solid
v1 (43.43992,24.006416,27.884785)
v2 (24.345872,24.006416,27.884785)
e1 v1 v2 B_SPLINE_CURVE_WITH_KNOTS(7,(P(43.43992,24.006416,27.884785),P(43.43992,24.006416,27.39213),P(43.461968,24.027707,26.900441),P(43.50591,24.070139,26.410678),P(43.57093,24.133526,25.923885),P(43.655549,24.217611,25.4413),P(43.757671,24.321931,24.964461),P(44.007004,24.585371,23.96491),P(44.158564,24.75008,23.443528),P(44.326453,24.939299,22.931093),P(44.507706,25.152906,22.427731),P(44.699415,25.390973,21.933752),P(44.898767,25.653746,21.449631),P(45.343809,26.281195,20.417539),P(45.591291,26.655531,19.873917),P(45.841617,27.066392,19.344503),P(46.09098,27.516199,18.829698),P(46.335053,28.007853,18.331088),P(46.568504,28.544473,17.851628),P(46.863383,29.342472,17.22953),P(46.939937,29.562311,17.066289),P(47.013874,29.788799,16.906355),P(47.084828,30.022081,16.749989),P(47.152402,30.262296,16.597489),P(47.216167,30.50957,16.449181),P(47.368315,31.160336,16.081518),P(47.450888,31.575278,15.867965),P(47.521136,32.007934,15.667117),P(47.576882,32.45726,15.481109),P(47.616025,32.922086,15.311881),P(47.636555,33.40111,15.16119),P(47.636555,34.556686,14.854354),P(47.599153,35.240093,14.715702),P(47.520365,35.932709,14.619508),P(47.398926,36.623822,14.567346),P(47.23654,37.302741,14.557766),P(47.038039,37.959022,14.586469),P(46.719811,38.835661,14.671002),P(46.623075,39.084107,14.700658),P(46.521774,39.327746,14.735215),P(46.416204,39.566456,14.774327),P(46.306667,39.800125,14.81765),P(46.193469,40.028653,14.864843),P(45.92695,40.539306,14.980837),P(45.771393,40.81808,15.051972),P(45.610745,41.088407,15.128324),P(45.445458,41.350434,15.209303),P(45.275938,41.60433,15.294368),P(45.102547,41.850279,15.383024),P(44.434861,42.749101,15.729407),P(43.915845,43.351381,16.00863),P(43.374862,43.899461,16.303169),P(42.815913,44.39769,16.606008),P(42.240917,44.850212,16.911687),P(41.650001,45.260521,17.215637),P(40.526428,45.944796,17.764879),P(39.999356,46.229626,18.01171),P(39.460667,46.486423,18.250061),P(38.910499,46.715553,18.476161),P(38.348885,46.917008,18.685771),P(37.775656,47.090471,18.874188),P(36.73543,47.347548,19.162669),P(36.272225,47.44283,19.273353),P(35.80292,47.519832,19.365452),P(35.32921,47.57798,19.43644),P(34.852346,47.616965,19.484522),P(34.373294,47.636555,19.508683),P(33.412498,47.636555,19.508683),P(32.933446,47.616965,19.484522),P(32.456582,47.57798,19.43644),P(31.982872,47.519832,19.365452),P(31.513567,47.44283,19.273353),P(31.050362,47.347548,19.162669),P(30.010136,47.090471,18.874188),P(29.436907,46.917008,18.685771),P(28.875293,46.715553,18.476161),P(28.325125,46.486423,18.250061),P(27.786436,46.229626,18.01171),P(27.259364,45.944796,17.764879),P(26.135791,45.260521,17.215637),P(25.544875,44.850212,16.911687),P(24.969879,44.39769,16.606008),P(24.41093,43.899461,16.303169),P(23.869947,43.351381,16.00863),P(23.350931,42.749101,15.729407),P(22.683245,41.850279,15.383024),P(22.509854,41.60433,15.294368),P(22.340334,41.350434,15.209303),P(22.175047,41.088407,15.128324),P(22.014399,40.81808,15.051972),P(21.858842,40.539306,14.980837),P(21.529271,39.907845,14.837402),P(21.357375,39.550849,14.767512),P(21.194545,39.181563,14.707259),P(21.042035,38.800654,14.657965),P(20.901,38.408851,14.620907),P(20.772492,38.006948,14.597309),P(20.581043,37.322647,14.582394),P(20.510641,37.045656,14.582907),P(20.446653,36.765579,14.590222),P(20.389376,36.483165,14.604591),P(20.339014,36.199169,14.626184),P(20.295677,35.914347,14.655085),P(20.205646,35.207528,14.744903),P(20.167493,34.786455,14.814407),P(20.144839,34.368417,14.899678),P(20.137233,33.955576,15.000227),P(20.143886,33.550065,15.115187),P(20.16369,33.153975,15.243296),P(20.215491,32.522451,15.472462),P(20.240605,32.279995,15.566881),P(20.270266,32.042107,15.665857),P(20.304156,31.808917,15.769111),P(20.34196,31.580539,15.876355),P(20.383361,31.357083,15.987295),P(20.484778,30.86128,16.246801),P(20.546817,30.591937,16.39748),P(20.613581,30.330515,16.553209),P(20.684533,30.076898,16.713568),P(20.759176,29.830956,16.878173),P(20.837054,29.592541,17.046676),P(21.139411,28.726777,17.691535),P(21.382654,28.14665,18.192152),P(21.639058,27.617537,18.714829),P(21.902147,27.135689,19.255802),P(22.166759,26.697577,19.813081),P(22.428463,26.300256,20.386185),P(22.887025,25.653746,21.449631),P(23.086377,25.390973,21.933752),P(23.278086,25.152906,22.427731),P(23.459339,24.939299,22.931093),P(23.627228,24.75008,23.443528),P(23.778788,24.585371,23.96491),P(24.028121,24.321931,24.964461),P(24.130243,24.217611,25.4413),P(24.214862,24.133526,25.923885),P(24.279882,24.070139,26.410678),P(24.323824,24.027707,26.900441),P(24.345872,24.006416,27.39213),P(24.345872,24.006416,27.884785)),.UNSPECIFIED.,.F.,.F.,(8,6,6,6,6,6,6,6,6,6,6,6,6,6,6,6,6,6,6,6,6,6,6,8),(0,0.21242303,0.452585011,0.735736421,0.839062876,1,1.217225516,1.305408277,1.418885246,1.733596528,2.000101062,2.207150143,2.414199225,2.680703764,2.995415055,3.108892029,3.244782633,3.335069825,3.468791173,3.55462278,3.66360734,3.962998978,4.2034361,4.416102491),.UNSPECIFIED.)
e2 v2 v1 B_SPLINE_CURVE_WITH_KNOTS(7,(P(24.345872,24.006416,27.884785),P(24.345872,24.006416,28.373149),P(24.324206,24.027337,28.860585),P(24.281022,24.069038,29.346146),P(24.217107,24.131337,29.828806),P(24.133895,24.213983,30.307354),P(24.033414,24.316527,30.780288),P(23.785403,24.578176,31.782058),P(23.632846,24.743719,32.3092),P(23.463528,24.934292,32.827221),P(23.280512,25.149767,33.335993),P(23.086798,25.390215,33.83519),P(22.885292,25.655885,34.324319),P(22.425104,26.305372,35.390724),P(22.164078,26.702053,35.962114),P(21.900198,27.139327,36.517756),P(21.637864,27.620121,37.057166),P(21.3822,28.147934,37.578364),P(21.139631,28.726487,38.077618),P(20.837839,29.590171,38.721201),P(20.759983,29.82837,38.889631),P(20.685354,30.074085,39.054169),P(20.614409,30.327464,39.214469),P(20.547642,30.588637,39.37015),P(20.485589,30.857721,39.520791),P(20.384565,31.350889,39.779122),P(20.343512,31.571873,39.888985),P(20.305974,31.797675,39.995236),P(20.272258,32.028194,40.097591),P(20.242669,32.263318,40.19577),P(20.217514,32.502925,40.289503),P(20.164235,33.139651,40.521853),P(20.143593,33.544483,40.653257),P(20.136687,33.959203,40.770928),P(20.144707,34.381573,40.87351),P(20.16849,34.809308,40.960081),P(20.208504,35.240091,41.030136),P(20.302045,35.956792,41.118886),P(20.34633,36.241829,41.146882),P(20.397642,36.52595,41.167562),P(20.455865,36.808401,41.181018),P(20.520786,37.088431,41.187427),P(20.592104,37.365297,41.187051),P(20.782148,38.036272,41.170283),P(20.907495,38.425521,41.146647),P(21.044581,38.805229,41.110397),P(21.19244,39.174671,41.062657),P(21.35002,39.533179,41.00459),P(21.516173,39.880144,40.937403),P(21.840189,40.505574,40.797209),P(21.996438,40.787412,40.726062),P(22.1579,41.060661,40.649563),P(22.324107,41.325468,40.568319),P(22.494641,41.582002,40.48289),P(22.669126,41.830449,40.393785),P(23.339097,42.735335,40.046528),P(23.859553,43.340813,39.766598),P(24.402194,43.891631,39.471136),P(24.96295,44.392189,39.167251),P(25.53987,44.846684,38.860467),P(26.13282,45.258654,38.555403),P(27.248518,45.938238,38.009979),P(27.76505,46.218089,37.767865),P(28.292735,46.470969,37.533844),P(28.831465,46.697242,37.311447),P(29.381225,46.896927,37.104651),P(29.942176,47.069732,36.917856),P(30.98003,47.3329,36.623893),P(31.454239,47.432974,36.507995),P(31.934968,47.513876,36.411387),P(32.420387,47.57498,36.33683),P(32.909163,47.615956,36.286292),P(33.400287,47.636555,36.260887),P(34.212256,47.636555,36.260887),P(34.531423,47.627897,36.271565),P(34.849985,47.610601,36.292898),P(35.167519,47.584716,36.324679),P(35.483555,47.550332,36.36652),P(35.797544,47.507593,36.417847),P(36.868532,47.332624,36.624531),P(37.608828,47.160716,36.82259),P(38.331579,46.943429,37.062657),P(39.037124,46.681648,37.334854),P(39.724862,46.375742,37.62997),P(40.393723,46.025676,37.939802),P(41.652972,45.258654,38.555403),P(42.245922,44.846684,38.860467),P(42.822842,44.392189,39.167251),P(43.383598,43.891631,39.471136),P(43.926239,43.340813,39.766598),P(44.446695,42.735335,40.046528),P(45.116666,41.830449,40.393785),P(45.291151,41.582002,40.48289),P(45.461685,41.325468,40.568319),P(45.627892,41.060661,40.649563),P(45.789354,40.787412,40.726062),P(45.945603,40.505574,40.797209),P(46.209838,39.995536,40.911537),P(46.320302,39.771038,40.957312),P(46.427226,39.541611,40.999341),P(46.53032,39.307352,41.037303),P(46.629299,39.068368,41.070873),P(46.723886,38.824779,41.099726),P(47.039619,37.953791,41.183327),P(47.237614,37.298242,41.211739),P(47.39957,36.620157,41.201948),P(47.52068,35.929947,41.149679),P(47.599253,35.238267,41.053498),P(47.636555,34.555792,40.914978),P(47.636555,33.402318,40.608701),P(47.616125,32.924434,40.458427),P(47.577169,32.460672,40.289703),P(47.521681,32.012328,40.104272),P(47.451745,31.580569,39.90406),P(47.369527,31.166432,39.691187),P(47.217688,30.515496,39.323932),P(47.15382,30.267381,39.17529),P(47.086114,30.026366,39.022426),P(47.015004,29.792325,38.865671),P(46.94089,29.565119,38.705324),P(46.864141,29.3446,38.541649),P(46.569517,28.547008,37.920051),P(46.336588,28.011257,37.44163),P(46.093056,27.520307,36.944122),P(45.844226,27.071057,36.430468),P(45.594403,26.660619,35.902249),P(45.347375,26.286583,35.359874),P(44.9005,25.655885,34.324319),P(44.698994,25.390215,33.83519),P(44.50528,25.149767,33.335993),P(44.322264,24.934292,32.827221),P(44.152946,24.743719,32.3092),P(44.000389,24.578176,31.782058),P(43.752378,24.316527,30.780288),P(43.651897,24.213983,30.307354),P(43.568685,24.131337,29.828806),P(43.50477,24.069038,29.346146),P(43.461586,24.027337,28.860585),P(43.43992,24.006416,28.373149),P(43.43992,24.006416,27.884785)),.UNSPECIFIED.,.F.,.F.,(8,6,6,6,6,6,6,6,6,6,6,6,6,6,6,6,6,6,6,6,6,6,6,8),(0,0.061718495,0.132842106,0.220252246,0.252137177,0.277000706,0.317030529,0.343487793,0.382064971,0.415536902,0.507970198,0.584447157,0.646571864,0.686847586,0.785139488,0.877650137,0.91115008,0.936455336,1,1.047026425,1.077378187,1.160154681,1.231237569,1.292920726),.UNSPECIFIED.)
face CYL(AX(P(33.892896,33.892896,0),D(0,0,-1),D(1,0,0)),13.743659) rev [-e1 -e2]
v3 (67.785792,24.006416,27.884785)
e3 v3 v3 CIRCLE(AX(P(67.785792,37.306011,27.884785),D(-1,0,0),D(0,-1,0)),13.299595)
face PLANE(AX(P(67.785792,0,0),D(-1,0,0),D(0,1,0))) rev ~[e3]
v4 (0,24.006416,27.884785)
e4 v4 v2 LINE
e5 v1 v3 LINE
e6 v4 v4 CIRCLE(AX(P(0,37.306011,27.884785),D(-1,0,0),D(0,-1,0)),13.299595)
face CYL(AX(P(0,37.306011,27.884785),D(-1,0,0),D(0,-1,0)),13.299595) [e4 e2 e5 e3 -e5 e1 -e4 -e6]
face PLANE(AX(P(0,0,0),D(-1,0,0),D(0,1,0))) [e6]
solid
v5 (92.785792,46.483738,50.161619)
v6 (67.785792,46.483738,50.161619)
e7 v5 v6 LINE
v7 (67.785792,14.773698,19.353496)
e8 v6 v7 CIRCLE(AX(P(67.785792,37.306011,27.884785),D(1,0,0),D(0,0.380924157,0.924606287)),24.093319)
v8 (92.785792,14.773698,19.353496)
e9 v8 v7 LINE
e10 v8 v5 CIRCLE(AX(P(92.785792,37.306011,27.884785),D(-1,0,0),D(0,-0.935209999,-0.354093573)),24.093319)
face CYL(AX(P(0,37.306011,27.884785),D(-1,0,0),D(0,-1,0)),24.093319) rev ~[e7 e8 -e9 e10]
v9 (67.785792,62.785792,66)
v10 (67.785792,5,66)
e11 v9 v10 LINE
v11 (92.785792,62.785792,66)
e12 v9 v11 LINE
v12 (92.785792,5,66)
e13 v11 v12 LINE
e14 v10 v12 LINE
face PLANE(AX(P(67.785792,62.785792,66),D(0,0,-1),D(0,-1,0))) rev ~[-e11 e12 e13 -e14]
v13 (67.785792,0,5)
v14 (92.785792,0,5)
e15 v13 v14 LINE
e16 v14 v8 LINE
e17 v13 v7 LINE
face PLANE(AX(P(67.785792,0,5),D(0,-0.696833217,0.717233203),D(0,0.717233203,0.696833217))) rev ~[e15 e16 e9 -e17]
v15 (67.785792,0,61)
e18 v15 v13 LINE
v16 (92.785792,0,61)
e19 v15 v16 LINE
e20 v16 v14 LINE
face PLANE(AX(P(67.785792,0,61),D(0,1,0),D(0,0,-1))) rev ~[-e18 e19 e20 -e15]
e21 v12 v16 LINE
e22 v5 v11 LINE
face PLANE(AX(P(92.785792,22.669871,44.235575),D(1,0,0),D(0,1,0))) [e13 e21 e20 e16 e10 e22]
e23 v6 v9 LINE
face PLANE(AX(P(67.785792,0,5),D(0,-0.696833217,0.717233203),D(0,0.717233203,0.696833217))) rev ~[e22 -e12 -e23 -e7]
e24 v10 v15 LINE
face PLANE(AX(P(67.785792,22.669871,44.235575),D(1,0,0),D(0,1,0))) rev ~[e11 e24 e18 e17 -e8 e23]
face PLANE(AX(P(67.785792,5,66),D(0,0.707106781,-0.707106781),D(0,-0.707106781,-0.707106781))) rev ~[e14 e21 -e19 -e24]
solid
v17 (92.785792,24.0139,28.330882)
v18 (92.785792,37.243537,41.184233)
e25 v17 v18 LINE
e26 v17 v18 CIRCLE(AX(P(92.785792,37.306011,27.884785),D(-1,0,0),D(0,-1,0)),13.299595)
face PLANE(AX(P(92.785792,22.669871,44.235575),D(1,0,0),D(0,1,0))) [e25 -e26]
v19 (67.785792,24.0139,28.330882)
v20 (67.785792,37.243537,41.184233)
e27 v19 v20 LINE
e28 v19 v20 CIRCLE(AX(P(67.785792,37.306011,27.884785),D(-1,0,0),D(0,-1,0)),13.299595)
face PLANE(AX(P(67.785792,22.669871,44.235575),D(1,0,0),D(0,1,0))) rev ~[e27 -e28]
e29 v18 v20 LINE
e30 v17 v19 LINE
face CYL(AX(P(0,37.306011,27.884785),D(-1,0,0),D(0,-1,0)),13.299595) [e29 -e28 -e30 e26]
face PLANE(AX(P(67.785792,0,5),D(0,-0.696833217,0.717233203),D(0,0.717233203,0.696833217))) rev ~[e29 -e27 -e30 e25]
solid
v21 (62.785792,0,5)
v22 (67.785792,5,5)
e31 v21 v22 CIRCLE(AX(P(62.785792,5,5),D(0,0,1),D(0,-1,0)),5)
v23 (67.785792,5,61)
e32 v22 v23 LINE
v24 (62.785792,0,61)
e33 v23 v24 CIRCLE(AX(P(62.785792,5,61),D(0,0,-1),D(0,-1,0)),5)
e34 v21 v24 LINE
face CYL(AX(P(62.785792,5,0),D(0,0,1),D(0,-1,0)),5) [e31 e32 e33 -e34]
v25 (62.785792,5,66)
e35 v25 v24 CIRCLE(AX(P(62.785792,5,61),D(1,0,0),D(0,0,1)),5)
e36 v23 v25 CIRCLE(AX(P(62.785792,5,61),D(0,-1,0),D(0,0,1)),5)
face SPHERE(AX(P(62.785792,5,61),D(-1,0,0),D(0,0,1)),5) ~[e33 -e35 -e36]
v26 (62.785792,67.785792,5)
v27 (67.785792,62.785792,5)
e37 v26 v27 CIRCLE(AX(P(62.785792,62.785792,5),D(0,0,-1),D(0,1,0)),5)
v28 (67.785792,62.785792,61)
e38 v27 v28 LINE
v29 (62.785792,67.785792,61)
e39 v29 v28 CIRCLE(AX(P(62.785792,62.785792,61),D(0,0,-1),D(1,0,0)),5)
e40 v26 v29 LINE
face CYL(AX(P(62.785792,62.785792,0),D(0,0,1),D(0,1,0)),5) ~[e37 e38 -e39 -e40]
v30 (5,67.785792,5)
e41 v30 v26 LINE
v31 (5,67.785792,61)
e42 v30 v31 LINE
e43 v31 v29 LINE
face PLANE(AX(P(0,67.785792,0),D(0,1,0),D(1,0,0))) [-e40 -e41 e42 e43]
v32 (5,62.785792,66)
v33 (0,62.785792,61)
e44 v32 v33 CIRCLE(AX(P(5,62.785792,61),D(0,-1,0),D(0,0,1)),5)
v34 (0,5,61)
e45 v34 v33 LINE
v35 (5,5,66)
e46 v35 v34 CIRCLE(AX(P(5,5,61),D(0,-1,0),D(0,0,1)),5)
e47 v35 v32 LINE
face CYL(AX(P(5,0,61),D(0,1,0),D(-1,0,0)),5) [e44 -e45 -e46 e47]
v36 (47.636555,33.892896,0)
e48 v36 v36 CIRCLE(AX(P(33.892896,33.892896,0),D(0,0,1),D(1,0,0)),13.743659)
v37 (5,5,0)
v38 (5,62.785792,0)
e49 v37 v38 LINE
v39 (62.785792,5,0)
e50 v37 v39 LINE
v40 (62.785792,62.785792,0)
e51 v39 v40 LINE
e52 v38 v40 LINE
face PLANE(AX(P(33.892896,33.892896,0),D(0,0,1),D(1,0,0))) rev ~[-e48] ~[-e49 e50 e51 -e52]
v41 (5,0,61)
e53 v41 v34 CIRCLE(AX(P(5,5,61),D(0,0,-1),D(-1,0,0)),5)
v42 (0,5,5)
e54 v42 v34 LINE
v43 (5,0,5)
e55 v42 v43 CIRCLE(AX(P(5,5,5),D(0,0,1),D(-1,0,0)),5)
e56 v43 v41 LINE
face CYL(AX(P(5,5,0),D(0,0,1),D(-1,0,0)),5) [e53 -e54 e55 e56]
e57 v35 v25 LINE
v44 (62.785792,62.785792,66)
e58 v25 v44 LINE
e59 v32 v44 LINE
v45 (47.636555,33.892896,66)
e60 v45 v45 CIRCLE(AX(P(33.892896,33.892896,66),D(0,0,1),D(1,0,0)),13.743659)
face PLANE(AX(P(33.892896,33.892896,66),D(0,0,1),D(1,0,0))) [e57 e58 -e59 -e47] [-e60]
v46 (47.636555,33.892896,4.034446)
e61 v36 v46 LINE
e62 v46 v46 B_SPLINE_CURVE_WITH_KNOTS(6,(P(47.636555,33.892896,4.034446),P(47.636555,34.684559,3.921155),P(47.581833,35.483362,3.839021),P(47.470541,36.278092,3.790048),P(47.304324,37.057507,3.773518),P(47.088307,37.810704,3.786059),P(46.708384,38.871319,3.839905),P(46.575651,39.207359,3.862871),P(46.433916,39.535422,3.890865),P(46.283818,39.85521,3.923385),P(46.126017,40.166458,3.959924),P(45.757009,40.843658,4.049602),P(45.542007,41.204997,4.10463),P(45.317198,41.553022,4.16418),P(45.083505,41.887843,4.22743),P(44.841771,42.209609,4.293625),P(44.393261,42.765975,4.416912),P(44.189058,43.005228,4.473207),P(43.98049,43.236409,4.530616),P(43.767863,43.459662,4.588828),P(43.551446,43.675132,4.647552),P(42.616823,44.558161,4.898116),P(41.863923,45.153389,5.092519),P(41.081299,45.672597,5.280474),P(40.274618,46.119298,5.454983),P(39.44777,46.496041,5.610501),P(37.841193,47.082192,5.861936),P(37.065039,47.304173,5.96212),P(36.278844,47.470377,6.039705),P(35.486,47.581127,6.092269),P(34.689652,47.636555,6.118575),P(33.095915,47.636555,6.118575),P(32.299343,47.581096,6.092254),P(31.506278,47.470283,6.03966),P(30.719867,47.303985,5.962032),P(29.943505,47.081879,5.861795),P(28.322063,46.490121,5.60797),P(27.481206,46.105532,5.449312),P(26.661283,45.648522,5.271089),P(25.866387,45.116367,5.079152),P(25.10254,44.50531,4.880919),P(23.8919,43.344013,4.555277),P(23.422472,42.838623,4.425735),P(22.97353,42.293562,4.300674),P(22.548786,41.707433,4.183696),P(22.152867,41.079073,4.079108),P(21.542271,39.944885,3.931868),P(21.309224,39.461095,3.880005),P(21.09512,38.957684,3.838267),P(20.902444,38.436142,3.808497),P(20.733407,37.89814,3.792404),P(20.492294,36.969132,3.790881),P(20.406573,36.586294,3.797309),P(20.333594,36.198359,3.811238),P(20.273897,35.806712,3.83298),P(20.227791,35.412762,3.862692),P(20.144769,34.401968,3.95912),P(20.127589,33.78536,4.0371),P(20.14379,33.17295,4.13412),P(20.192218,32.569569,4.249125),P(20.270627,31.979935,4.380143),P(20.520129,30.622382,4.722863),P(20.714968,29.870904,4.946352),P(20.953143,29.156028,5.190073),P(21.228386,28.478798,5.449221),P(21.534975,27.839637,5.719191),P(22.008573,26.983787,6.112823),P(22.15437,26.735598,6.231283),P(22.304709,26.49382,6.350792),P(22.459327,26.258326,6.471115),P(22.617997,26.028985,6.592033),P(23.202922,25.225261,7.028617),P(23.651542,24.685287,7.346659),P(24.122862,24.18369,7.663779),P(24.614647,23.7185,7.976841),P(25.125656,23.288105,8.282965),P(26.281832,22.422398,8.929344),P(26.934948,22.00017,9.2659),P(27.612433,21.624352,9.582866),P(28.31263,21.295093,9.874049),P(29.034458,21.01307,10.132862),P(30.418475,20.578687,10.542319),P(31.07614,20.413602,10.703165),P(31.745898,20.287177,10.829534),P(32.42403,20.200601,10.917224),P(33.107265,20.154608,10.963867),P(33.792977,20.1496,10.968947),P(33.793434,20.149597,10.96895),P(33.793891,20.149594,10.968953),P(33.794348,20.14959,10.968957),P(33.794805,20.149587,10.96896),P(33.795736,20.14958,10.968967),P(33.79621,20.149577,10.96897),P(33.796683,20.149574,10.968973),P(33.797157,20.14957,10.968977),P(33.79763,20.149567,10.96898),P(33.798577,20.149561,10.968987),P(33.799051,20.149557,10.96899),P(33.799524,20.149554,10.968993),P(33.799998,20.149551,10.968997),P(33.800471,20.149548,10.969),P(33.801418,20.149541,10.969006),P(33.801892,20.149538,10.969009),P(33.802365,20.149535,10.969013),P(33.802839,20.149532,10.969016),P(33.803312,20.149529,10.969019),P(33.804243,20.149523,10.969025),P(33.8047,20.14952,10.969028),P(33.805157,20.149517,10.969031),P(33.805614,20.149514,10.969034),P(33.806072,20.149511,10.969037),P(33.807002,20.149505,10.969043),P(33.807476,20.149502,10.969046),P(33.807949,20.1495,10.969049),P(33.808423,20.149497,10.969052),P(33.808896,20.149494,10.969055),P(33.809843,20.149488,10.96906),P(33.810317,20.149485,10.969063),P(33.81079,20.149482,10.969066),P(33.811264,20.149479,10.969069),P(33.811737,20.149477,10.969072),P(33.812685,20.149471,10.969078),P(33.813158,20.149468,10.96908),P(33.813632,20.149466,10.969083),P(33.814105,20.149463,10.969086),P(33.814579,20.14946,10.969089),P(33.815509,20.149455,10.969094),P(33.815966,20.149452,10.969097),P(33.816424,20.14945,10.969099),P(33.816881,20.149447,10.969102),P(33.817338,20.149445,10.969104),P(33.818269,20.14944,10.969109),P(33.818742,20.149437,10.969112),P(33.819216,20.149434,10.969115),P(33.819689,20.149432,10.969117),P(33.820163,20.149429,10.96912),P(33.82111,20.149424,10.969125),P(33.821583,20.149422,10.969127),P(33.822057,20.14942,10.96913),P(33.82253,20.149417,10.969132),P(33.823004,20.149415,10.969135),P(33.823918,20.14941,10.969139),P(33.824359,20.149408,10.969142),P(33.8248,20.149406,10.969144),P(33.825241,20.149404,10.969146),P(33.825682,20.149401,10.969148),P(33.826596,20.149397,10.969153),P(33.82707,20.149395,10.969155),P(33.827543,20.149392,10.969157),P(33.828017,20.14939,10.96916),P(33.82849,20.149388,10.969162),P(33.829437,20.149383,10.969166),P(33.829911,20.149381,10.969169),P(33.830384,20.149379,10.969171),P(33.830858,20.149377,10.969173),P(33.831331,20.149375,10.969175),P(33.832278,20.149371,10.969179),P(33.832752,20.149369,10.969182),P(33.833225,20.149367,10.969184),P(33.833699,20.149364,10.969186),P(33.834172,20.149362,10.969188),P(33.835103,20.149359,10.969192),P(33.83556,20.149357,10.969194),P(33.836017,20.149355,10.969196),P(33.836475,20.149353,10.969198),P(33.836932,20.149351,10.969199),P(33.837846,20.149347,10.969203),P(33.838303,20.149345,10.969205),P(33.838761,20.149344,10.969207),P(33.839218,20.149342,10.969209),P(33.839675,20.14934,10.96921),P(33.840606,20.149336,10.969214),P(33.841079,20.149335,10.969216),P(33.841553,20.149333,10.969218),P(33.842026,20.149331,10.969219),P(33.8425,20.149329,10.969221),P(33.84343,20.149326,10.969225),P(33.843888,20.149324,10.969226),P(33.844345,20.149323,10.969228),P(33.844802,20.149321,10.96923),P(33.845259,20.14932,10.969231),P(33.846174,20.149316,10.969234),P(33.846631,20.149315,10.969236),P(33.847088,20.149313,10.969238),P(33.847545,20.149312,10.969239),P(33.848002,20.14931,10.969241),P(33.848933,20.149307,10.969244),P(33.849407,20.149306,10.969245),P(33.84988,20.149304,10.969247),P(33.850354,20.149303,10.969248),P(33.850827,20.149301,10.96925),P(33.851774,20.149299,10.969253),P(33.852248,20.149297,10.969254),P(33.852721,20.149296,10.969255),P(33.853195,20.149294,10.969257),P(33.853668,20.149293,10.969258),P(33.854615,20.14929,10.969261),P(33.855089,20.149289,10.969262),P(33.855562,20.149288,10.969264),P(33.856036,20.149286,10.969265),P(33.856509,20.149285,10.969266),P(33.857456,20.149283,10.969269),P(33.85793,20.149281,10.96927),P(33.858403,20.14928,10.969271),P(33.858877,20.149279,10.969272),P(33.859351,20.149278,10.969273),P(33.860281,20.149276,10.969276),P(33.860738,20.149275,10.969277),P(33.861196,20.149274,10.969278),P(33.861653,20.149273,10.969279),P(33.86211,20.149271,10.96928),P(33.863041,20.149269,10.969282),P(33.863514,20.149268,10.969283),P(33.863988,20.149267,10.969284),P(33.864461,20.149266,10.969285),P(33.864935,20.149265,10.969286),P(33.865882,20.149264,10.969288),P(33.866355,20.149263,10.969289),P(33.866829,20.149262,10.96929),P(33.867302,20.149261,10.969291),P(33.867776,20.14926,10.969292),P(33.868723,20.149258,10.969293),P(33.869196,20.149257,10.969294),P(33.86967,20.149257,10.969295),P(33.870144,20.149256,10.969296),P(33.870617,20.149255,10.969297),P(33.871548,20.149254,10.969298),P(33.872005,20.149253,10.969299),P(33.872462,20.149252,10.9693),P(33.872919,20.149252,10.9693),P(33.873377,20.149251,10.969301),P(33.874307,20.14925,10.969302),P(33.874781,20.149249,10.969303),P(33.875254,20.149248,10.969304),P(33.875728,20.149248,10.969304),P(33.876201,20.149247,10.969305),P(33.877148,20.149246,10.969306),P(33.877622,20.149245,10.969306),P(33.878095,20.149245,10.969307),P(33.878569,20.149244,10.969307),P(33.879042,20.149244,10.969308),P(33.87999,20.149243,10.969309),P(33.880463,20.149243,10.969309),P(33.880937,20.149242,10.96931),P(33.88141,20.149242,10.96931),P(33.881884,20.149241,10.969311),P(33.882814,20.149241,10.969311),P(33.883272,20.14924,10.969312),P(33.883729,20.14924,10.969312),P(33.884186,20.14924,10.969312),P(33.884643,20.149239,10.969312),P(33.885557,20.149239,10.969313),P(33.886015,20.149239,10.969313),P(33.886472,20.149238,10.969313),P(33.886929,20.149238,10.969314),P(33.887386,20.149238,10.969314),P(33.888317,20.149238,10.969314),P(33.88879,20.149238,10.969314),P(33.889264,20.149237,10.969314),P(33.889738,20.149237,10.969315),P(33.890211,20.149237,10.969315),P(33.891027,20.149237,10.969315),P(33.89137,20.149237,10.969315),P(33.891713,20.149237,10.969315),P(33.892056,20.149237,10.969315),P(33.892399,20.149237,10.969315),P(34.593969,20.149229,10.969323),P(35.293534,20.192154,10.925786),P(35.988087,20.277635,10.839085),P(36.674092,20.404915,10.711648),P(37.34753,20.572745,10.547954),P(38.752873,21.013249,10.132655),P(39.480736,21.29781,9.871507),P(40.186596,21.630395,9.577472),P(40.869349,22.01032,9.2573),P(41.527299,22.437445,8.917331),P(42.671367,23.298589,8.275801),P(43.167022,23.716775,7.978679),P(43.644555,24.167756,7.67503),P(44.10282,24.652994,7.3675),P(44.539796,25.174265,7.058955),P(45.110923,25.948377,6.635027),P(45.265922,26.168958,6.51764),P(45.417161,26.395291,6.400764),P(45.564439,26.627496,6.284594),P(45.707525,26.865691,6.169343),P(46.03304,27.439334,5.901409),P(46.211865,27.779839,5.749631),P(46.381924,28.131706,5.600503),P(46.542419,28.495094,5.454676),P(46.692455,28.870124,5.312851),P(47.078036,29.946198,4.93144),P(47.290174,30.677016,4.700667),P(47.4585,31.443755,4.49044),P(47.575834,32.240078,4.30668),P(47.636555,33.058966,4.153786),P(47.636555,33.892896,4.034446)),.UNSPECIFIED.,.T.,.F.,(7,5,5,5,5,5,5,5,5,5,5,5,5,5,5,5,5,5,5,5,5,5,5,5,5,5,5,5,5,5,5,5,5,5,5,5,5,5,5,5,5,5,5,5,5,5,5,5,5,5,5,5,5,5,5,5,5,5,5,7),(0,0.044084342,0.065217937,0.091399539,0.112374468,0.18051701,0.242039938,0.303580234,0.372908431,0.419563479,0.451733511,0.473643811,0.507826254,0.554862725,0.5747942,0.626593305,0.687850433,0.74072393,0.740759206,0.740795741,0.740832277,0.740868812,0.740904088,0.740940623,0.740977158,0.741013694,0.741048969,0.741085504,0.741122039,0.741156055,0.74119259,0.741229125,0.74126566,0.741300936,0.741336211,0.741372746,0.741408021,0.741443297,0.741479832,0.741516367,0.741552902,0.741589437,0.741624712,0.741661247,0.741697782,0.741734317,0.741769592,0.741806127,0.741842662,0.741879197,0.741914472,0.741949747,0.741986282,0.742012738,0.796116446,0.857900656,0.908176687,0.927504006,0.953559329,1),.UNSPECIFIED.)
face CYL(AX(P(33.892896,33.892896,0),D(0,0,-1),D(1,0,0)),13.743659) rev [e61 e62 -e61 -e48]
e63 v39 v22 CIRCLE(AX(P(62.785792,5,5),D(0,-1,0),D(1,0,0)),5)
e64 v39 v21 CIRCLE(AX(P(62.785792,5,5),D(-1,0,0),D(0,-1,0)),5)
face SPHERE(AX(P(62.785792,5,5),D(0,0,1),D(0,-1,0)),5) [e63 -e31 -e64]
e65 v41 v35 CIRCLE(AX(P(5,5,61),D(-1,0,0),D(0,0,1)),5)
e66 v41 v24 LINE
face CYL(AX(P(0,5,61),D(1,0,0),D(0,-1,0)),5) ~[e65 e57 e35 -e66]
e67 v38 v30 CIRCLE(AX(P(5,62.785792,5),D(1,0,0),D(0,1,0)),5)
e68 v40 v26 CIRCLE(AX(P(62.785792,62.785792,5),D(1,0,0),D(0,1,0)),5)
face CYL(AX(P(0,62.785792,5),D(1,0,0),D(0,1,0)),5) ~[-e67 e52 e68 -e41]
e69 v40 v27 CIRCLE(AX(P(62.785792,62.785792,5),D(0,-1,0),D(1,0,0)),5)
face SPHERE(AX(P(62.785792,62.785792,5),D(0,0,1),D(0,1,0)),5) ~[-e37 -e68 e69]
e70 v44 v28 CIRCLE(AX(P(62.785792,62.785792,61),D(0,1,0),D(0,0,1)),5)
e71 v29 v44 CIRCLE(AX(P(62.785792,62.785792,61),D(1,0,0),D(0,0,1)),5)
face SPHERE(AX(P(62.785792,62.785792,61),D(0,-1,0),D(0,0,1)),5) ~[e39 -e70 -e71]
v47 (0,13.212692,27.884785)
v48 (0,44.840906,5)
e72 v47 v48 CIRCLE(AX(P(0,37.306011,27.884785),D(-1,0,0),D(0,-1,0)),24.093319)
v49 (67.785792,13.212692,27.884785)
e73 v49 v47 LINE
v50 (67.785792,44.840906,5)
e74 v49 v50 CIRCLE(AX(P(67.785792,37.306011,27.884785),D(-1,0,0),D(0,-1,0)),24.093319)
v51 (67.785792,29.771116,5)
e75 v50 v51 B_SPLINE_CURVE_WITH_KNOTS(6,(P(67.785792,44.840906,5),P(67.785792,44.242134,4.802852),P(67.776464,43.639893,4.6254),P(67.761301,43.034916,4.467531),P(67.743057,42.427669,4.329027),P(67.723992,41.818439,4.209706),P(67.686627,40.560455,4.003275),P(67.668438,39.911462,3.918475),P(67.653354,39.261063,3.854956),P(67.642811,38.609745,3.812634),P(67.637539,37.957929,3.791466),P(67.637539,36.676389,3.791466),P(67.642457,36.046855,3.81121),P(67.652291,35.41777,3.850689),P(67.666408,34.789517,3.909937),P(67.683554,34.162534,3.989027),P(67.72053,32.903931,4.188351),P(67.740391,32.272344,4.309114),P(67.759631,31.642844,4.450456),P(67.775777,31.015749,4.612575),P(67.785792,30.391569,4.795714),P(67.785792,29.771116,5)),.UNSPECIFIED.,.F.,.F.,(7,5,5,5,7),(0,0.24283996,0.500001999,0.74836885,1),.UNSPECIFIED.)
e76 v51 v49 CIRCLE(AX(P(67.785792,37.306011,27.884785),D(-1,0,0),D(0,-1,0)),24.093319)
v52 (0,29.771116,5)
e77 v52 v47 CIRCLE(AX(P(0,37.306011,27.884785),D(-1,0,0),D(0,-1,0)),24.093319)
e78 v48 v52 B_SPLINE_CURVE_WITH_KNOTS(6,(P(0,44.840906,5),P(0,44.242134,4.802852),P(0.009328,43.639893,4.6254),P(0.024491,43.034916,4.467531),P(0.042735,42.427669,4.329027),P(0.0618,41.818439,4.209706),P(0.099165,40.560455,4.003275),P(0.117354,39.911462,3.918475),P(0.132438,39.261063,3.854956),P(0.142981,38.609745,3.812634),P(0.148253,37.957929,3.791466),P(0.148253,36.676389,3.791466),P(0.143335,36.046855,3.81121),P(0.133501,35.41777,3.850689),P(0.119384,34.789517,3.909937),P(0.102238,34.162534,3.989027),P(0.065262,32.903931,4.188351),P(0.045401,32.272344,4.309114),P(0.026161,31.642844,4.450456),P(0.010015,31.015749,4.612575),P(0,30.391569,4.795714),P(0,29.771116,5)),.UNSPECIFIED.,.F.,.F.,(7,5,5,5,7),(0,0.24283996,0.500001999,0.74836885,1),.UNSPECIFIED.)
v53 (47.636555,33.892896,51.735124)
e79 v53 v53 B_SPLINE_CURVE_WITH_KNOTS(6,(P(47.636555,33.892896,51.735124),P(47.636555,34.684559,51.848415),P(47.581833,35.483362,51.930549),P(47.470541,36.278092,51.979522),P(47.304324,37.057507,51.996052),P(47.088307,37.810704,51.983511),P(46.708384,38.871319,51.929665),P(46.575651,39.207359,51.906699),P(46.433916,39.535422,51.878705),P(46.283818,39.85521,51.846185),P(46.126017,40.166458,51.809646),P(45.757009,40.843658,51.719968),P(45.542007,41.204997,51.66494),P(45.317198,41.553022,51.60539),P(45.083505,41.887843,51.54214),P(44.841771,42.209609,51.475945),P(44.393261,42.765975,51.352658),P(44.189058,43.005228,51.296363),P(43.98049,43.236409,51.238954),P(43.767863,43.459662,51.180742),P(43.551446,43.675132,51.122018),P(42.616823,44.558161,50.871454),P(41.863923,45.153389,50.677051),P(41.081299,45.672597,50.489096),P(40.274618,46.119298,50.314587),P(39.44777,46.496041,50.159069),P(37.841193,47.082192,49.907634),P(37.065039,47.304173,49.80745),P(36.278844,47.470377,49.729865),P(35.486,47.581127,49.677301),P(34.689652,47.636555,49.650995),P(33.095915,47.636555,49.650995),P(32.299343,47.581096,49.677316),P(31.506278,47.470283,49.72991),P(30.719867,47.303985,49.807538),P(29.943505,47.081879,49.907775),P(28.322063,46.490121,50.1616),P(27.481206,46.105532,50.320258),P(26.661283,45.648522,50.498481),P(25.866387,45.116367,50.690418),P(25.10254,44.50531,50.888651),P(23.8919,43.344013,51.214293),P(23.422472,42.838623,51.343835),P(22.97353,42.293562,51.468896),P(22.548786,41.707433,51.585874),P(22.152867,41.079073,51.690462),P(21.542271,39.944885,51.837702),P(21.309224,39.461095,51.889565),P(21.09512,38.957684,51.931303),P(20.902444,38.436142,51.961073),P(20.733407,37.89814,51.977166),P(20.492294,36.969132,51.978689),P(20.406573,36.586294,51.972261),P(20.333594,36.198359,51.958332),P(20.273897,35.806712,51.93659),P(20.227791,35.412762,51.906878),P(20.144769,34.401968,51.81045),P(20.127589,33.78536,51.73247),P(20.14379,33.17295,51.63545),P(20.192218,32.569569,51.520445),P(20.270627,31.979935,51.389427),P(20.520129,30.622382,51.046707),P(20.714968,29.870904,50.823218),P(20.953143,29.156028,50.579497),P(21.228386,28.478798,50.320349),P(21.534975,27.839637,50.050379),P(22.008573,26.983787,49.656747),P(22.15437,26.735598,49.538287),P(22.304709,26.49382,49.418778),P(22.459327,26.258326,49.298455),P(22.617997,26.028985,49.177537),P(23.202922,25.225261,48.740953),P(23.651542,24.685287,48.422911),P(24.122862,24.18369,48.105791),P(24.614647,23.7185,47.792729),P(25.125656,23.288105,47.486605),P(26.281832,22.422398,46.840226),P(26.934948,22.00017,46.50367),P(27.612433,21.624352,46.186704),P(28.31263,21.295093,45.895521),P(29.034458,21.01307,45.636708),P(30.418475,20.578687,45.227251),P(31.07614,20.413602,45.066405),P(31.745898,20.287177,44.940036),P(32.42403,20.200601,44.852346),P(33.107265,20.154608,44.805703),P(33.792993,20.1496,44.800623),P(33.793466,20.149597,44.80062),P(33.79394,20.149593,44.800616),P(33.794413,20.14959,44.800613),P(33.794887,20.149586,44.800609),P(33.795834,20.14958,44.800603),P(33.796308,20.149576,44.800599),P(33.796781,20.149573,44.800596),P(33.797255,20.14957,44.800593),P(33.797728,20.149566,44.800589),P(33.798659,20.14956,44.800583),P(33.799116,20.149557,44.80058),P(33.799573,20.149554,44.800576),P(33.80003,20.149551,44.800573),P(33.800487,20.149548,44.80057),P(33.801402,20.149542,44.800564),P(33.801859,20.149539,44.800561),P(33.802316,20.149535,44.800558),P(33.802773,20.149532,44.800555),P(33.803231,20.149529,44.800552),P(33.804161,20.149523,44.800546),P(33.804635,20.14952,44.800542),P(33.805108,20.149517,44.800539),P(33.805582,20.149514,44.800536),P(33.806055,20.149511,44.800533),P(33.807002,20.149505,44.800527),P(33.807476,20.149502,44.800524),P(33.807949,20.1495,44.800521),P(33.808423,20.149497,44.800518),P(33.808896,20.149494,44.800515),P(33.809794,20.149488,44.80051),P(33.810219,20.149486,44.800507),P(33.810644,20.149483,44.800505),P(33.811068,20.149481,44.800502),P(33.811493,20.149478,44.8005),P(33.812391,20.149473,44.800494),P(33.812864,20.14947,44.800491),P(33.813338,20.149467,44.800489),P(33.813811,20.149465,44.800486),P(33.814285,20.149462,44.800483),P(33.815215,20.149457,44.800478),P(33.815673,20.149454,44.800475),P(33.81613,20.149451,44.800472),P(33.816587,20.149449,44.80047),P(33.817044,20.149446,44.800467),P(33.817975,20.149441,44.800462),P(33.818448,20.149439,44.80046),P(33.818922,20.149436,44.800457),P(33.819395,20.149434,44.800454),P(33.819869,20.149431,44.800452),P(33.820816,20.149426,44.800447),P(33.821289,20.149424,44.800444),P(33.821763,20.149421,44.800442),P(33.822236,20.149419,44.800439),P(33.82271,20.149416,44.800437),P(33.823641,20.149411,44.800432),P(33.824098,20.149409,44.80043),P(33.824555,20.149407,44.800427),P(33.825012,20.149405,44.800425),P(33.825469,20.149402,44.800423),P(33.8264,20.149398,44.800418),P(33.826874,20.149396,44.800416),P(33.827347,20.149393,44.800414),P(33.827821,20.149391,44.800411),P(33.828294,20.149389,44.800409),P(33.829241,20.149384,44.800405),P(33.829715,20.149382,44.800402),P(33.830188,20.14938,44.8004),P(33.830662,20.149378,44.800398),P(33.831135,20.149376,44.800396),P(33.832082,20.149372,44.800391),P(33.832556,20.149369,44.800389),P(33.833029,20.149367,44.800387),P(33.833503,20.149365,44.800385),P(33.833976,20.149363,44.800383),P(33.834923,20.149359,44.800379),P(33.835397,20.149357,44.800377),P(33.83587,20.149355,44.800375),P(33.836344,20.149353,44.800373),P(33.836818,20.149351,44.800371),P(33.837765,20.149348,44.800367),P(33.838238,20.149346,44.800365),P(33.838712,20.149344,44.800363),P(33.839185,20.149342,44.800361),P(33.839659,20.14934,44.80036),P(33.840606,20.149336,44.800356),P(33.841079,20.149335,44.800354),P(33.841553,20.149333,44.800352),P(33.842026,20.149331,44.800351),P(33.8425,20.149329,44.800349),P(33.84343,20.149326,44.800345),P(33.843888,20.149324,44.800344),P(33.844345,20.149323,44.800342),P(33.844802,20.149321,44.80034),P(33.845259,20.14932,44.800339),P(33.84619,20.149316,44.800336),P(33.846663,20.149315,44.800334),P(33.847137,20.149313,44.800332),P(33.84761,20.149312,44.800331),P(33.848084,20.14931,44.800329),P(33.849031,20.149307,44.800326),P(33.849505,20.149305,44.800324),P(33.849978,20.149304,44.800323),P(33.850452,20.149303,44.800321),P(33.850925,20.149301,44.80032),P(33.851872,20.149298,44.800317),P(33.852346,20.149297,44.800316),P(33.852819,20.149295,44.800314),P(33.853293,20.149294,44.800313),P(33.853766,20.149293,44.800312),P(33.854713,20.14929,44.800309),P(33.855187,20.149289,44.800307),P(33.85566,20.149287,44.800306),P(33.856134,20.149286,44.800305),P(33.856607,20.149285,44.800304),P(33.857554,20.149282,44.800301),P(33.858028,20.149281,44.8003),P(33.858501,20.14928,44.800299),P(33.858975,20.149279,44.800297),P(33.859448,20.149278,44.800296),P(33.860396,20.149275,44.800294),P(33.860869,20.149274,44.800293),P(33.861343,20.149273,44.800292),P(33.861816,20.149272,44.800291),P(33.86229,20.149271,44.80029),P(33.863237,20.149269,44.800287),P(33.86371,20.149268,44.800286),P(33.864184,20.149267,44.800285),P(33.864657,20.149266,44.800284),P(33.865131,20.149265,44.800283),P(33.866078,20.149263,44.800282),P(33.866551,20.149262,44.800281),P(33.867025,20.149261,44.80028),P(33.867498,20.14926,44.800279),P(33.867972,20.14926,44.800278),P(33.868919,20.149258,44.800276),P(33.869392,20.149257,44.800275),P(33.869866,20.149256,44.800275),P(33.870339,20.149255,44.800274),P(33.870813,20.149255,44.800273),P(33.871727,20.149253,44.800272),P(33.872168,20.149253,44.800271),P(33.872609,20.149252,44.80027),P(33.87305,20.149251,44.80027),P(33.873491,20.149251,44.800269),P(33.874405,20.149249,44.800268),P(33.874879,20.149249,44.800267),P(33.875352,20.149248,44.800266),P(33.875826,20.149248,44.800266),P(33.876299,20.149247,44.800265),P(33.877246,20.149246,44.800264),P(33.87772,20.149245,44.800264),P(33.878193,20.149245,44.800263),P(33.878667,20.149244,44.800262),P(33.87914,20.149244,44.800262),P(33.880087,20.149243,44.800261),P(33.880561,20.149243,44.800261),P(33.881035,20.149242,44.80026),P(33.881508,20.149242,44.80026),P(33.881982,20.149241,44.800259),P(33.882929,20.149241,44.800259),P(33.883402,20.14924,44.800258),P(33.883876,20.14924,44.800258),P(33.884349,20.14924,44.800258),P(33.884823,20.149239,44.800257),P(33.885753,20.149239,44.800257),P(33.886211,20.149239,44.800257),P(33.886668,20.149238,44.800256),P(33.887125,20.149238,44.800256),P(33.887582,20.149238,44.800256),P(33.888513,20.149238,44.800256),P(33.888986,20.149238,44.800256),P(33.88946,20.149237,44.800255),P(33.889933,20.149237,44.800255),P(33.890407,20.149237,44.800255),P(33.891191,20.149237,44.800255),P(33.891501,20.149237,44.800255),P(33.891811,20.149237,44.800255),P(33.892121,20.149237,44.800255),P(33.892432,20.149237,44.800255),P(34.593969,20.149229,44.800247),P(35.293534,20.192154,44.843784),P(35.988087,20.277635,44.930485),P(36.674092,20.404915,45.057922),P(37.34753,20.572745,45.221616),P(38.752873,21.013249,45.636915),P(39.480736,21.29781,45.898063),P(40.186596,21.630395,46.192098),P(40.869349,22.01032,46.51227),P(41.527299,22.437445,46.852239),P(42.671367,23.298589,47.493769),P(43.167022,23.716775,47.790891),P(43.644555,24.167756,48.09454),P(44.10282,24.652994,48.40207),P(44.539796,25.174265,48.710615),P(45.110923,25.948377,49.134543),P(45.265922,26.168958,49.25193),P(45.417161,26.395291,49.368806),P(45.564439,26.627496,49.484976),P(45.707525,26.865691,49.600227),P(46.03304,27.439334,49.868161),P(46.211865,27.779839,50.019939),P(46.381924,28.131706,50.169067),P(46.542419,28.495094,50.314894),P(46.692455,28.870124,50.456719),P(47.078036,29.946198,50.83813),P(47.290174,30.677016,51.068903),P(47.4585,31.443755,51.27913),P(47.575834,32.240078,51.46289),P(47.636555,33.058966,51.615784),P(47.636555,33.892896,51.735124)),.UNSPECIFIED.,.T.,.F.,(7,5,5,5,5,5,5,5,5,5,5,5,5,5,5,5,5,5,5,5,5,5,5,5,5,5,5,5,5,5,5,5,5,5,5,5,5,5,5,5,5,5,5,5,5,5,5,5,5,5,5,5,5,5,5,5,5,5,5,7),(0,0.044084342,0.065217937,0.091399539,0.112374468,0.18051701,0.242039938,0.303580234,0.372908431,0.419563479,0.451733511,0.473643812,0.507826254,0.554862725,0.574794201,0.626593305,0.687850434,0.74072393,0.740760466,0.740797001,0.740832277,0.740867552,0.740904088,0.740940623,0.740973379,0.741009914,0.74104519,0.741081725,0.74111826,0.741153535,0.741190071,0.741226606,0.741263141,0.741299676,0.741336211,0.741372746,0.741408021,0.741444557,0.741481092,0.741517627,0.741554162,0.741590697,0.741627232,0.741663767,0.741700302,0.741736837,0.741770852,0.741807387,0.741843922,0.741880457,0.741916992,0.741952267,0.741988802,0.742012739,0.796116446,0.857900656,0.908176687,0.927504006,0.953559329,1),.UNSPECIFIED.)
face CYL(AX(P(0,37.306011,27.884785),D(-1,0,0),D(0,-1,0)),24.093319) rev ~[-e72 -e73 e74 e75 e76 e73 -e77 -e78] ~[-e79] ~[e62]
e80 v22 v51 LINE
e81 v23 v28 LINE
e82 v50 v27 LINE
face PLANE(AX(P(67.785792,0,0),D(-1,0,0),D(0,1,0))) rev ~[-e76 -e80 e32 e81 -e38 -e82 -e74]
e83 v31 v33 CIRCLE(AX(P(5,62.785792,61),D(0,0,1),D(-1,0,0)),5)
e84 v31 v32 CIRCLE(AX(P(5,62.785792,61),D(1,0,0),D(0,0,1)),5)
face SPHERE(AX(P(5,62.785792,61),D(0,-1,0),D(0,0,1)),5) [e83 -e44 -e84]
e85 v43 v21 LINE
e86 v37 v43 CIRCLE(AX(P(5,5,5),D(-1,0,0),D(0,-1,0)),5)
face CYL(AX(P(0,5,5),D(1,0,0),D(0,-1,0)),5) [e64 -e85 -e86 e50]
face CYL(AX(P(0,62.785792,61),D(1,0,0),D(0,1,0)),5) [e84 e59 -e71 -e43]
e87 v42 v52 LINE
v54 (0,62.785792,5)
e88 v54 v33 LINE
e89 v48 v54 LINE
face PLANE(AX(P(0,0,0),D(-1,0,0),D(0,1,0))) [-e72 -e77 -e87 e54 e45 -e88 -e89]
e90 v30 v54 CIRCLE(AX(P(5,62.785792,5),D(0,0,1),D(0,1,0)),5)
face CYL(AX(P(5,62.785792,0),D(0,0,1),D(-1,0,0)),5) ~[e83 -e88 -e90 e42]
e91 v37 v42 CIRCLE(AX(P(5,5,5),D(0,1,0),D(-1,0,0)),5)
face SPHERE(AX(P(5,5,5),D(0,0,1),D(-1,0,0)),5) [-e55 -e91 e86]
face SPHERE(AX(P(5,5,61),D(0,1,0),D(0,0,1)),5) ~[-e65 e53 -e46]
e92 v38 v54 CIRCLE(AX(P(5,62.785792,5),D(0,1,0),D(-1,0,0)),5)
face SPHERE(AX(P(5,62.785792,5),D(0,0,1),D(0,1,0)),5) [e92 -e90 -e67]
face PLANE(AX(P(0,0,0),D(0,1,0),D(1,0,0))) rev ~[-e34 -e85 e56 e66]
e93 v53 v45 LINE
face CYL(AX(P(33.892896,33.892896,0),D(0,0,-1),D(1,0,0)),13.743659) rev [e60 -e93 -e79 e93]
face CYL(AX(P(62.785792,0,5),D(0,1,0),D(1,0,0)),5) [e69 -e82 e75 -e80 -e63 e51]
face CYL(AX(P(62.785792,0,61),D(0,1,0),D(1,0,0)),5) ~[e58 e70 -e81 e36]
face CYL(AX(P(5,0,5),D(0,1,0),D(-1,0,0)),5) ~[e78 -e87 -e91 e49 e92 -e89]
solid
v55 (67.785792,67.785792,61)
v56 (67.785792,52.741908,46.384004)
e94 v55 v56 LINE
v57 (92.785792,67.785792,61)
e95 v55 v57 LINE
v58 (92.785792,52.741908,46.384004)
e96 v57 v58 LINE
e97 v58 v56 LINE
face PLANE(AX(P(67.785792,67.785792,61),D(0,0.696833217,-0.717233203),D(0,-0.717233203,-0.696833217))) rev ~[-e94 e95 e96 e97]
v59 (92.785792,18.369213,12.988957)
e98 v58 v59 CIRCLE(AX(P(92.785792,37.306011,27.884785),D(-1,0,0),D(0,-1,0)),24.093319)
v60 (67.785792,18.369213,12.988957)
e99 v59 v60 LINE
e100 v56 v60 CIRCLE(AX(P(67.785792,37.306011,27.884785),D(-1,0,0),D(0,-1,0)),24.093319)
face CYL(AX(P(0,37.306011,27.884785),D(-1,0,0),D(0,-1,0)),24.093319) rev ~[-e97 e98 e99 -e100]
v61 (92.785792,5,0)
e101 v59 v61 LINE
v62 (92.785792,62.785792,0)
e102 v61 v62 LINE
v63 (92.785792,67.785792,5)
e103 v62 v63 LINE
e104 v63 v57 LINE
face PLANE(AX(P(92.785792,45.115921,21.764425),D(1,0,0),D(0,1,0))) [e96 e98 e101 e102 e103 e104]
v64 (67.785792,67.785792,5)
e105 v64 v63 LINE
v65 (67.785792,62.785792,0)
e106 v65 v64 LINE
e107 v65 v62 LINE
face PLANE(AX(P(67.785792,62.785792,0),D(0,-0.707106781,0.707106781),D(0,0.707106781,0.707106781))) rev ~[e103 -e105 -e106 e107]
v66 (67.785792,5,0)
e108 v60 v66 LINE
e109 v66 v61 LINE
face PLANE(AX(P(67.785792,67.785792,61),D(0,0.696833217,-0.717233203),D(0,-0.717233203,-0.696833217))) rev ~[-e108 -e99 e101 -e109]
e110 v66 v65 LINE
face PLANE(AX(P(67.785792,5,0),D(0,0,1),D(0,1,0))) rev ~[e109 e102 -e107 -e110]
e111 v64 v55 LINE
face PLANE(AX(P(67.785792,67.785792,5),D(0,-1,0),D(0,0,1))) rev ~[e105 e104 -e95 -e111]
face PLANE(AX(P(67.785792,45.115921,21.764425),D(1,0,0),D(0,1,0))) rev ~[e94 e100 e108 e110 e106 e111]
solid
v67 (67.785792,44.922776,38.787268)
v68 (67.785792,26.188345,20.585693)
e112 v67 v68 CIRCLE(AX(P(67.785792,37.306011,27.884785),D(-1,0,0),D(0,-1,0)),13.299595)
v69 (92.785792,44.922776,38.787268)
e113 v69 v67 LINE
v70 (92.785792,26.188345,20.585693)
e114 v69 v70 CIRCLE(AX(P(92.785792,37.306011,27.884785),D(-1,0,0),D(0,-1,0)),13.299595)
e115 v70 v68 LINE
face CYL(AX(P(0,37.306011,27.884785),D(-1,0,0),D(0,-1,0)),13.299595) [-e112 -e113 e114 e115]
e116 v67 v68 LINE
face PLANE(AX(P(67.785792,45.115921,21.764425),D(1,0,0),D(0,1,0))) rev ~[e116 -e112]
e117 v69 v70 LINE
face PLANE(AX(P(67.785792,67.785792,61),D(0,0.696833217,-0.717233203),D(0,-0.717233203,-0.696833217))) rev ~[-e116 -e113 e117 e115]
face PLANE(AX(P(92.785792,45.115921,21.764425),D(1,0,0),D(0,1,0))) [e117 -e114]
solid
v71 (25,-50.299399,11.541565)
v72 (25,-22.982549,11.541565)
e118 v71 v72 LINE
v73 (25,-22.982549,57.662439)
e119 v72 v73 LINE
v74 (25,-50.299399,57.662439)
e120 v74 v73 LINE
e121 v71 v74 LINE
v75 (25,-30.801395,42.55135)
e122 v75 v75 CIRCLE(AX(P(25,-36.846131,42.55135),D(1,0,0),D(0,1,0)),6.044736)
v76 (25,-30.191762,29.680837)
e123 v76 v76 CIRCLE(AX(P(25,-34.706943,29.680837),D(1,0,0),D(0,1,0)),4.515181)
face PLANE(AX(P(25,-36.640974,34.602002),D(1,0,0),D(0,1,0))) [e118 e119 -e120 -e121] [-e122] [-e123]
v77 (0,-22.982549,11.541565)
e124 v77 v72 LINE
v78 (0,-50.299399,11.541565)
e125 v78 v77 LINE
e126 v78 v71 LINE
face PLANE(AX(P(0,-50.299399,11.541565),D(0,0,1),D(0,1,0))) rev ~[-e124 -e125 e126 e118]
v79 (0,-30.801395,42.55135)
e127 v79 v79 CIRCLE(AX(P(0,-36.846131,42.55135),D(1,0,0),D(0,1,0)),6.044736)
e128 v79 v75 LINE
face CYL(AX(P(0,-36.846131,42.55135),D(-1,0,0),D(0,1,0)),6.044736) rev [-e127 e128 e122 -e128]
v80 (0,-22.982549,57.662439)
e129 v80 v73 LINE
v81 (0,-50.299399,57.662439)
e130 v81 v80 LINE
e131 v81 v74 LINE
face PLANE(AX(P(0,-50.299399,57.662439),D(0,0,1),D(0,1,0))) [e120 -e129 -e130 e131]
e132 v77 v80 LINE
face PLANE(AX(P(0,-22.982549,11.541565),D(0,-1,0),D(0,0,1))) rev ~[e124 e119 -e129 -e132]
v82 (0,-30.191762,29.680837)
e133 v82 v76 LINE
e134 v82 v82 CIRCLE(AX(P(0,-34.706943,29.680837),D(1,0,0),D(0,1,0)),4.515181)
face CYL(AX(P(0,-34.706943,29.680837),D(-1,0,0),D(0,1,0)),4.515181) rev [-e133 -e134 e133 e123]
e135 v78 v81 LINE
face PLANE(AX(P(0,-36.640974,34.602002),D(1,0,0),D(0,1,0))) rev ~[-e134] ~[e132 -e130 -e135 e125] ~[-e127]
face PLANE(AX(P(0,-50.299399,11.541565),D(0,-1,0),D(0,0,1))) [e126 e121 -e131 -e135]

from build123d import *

# Parameters (mm, degrees)
F0_W          = 67.785792
F0_H          = 67.785792
F0_R          = 13.743659
F1_DEPTH      = 66
F2_R          = 5
F4_DEPTH      = 25
F5_R          = 24.093319
F5_R_2        = 13.299595
F6_DEPTH      = 25
F6_DEPTH_BACK = 92.785792
F8_W          = 27.31685
F8_H          = 46.120874
F8_R          = 4.515181
F8_R_2        = 6.044736
F9_DEPTH      = 25


with BuildPart() as f1:
    # F0 (on Top) → F1 (new body)
    with BuildSketch(Plane.XY):
        with Locations((33.892896, 33.892896)):
            Rectangle(F0_W, F0_H)
        with Locations((33.892896, 33.892896)):
            Circle(F0_R, mode=Mode.SUBTRACT)
    extrude(amount=F1_DEPTH)

    # F2
    f2_edges = [f1.edges().sort_by_distance(p)[0] for p in [
        (0, 33.892896, 66),
        (33.892896, 0, 66),
        (67.785792, 33.892896, 66),
        (33.892896, 67.785792, 66),
        (67.785792, 67.785792, 33),
        (67.785792, 0, 33),
        (0, 0, 33),
        (0, 67.785792, 33),
        (33.892896, 67.785792, 0),
        (0, 33.892896, 0),
        (33.892896, 0, 0),
        (67.785792, 33.892896, 0),
    ]]
    fillet(f2_edges, radius=F2_R)


with BuildPart() as f4:
    # F3 (on face) → F4 (new body)
    with BuildSketch(Plane.YZ.offset(67.785792)):
        Polygon((67.785792, 5), (67.785792, 61), (5, 0), (62.785792, 0), align=None)
        Polygon((62.785792, 66), (5, 66), (0, 61), (0, 5), align=None)
    extrude(amount=F4_DEPTH)


with BuildPart() as f6:
    # F5 (on face) → F6 (new body, two sides)
    with BuildSketch(Plane(origin=(0, 0, 0), x_dir=(0, -1, 0), z_dir=(-1, 0, 0))) as f6_sk:
        with Locations((-37.306011, 27.884785)):
            Circle(F5_R)
        with Locations((-37.306011, 27.884785)):
            Circle(F5_R_2, mode=Mode.SUBTRACT)
    extrude(amount=F6_DEPTH)
    extrude(f6_sk.sketch, amount=-F6_DEPTH_BACK)


with BuildPart() as f4_1:
    add(f4.part)

    # F7: cut F6
    add(f6.part, mode=Mode.SUBTRACT)


with BuildPart() as f1_1:
    add(f1.part)

    # F7: cut F6
    add(f6.part, mode=Mode.SUBTRACT)


with BuildPart() as f9:
    # F8 (on Right) → F9 (new body)
    with BuildSketch(Plane.YZ):
        with Locations((-36.640974, 34.602002)):
            Rectangle(F8_W, F8_H)
        with Locations((-34.706943, 29.680837)):
            Circle(F8_R, mode=Mode.SUBTRACT)
        with Locations((-36.846131, 42.55135)):
            Circle(F8_R_2, mode=Mode.SUBTRACT)
    extrude(amount=F9_DEPTH)


solid = Compound([f4_1.part, f1_1.part, f9.part])
